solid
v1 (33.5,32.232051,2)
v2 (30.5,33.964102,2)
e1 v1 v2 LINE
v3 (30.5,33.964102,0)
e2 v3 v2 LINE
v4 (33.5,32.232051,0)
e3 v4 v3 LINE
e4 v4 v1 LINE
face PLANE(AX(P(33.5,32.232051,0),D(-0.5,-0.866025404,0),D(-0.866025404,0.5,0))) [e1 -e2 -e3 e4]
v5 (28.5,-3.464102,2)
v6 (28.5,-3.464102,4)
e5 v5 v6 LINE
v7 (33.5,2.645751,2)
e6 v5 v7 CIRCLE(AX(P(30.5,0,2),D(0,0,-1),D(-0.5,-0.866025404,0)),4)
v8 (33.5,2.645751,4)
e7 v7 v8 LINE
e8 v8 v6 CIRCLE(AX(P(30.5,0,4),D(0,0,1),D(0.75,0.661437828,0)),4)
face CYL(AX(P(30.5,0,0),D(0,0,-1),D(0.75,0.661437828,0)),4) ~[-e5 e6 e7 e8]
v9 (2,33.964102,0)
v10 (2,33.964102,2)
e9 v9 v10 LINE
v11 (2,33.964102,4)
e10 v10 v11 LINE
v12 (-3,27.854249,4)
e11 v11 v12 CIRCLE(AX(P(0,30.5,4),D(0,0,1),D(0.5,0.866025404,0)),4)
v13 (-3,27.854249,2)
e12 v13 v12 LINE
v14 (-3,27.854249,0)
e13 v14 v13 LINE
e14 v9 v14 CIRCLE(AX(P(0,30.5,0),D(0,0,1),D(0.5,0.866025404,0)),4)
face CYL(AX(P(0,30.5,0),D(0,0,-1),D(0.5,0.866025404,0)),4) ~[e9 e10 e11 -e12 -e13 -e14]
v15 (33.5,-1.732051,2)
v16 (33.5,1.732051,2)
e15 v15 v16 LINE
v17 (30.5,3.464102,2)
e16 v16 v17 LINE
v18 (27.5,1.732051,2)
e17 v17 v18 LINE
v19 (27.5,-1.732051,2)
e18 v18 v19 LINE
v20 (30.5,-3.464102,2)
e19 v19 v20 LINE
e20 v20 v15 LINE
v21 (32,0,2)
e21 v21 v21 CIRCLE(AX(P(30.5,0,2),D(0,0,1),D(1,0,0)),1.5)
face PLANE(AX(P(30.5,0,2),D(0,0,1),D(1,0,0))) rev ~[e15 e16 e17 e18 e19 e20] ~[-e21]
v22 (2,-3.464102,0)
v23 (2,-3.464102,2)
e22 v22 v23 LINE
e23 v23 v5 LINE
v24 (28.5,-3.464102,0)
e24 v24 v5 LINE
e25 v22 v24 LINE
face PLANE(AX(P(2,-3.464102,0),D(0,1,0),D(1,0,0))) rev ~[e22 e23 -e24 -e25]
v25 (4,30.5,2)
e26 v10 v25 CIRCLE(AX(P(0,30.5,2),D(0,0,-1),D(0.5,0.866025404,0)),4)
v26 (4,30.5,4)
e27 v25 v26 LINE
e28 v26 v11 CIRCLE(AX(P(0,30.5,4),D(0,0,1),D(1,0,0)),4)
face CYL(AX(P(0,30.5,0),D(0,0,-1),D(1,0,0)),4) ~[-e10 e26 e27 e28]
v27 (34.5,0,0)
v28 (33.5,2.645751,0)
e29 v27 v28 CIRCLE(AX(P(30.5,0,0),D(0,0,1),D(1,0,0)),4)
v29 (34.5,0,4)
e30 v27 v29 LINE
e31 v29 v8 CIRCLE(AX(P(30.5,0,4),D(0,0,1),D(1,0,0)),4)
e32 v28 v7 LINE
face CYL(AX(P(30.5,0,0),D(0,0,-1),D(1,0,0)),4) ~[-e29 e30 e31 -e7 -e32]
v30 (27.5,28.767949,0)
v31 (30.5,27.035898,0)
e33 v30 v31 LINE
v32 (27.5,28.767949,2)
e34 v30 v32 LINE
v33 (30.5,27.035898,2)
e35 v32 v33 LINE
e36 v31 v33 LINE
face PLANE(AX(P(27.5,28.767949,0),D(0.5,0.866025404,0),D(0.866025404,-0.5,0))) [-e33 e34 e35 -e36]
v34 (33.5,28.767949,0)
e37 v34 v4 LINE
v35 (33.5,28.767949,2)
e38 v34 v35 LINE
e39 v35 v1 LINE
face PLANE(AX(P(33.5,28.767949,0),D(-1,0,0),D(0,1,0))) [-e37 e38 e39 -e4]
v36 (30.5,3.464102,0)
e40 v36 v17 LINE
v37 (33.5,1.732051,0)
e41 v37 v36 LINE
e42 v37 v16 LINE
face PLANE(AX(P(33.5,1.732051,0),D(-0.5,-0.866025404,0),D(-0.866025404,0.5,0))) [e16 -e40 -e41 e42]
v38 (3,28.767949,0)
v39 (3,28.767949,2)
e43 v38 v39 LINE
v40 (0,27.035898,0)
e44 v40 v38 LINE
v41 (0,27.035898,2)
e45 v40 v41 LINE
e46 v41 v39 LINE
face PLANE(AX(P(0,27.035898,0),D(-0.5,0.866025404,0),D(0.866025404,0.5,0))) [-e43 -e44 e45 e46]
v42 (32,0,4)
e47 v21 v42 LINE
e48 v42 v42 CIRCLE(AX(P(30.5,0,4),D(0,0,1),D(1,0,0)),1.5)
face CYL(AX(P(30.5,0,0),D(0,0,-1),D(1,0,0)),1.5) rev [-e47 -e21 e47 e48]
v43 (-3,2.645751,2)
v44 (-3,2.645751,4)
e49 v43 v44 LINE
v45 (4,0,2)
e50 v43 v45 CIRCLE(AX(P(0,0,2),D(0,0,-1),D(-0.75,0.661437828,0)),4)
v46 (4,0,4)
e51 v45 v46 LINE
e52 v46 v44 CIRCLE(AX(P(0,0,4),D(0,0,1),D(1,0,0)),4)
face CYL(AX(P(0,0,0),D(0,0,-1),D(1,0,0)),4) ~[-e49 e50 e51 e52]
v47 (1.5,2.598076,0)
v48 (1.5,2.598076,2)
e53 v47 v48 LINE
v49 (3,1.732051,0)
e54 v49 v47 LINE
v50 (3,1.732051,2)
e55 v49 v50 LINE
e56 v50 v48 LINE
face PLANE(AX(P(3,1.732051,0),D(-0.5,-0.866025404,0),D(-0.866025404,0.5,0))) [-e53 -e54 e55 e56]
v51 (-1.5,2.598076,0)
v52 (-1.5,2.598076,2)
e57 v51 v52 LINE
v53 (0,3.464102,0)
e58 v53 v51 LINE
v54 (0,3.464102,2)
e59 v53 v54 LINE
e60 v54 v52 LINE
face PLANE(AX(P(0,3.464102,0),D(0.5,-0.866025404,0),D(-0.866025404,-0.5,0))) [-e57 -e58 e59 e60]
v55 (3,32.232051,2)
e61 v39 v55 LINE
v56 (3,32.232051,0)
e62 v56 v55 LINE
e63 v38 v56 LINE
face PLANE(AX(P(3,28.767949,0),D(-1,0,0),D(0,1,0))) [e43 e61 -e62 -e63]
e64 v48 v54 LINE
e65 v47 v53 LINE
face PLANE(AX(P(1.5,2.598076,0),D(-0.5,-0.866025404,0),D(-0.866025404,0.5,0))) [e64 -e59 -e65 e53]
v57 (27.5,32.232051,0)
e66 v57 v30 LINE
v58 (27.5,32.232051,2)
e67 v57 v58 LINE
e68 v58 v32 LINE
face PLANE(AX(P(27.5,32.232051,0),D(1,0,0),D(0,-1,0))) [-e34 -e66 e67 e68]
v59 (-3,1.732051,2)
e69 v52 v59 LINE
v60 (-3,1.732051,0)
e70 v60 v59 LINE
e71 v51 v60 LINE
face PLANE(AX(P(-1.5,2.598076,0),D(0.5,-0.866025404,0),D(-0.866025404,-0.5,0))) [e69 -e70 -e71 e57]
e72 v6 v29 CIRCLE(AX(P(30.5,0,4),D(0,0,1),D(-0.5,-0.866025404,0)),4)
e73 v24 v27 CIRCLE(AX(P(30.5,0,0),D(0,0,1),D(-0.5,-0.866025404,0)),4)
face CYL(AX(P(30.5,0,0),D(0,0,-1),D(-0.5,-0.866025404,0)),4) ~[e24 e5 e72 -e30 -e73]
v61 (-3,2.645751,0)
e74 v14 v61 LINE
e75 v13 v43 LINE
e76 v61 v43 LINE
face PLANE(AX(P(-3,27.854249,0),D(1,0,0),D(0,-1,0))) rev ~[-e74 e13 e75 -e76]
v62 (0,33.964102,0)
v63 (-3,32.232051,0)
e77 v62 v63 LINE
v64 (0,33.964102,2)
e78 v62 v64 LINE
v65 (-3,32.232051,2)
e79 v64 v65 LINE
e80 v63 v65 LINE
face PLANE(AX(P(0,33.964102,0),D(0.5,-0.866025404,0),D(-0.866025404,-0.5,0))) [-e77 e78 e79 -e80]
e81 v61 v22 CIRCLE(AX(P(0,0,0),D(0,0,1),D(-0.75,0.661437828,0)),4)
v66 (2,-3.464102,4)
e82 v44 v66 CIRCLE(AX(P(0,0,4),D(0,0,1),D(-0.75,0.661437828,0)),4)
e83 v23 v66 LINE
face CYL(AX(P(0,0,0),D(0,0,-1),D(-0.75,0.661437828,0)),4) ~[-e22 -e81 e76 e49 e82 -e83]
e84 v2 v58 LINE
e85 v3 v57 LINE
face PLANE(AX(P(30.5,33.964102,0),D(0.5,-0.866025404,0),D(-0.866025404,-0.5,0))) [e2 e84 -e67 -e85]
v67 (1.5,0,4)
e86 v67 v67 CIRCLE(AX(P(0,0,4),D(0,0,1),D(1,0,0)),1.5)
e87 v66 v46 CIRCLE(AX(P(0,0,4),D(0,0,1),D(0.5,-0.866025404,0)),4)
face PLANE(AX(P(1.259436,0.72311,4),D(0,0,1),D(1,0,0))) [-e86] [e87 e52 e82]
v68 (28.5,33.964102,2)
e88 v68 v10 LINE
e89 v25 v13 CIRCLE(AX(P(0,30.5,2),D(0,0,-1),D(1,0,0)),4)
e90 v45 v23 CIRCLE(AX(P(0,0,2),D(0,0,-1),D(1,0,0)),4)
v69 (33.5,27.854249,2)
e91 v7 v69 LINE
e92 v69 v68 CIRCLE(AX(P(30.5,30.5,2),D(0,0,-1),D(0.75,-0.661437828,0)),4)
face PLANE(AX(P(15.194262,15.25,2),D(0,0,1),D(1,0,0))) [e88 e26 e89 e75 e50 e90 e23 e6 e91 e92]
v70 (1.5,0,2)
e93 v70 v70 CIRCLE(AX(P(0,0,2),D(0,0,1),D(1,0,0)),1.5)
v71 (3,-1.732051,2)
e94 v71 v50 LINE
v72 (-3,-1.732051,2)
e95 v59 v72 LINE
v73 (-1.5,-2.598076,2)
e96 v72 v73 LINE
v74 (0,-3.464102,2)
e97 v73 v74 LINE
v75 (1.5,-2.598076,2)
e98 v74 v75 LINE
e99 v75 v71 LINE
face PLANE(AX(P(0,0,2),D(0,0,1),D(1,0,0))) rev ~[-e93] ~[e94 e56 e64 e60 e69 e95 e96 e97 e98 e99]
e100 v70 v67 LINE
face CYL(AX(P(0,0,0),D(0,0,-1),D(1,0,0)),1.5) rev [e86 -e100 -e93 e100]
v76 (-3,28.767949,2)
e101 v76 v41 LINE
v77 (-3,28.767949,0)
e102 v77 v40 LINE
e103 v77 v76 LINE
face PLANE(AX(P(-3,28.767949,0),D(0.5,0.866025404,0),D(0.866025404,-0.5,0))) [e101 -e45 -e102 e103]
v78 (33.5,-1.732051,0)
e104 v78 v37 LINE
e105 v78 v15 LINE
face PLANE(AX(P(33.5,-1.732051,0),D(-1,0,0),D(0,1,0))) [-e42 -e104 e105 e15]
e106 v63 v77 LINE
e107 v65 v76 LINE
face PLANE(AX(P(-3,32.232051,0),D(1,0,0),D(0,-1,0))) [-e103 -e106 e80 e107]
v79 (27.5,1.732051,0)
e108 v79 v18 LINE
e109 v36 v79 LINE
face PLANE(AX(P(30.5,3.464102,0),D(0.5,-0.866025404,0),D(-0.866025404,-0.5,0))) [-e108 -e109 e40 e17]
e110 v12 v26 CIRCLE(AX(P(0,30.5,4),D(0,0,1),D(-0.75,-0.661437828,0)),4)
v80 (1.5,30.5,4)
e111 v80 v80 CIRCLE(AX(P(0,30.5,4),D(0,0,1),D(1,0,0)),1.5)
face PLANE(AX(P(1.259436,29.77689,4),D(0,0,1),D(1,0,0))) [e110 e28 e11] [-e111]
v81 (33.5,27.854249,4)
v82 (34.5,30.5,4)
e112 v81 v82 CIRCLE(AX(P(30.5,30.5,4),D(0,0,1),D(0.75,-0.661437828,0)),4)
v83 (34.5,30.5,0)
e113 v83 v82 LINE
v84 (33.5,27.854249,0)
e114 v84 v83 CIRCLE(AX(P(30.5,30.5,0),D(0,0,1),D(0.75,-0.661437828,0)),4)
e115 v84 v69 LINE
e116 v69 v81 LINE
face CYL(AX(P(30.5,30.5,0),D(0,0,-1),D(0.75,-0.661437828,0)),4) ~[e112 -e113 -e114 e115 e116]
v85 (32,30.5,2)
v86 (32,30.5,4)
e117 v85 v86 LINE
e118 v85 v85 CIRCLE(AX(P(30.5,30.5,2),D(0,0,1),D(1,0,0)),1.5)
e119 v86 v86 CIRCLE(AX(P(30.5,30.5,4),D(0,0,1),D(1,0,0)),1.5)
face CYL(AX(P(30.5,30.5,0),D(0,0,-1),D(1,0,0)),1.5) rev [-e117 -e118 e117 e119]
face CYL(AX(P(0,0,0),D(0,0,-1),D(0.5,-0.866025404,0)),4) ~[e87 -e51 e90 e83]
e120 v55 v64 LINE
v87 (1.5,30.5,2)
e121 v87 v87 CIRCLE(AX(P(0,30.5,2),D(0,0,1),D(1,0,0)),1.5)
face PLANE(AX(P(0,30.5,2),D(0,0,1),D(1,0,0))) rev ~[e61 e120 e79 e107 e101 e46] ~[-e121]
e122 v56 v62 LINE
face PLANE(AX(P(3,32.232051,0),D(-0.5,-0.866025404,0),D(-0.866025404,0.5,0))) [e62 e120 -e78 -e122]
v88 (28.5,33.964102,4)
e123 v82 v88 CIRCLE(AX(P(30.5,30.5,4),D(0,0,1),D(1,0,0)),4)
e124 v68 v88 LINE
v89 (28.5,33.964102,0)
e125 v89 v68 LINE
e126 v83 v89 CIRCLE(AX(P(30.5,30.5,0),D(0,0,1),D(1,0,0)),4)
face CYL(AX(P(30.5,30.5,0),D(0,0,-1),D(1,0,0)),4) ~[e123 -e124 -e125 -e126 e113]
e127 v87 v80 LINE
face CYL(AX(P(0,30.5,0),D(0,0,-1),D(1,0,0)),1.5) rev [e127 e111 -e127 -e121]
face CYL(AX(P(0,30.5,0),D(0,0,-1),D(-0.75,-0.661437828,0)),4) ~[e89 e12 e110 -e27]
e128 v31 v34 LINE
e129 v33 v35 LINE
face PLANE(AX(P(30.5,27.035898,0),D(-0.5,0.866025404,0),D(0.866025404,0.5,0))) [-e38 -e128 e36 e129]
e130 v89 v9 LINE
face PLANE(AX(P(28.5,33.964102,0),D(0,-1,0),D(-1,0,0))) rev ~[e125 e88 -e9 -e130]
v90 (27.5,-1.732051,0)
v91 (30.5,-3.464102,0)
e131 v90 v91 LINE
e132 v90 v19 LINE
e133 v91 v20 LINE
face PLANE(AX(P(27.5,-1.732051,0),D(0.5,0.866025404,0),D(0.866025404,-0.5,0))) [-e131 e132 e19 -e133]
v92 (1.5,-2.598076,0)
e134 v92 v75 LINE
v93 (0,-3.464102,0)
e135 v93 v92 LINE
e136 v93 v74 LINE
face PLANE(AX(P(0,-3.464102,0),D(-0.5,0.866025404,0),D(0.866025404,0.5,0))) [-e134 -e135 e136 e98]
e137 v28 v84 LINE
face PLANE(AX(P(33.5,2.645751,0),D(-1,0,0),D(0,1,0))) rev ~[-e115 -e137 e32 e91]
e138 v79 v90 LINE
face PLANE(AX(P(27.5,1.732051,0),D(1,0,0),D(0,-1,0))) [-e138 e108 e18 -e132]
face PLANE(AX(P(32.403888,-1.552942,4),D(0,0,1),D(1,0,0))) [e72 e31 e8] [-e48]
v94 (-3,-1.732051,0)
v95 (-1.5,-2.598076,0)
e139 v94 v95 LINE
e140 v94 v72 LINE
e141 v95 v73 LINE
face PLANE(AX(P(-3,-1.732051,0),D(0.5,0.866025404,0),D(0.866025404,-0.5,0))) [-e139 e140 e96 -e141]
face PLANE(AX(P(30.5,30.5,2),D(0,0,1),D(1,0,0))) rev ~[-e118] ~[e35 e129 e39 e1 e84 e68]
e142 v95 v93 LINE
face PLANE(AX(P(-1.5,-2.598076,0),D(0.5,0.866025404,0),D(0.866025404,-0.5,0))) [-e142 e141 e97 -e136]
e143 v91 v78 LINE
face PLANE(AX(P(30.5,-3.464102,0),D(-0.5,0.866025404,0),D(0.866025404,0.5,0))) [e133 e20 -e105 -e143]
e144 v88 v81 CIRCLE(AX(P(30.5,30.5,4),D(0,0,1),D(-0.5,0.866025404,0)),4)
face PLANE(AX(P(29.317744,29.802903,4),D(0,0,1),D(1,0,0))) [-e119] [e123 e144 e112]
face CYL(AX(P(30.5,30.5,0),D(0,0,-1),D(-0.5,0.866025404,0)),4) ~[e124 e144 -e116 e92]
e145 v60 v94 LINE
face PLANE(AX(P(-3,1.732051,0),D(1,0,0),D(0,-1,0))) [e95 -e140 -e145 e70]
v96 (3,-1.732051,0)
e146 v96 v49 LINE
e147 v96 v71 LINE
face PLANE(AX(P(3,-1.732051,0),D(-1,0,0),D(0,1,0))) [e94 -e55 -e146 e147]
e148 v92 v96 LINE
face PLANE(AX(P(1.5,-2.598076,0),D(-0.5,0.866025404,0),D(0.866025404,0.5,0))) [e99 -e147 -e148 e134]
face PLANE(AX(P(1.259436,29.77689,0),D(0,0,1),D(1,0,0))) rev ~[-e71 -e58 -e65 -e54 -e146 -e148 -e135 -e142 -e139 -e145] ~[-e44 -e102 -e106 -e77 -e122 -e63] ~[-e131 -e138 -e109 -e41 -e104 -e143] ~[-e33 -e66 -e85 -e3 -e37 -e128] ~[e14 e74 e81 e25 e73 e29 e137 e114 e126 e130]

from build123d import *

# Parameters (mm, degrees)
F1_DEPTH = 2
F2_DEPTH = 4
F0_R     = 1.5
F3_DEPTH = 4
F4_DEPTH = 2


with BuildPart() as f1:
    # F0 (on Top) → F1 (new body)
    with BuildSketch(Plane.XY):
        with BuildLine():
            ThreePointArc((-3, 2.6457513111), (1.4142135624, 3.7416573868), (4, 0))
            ThreePointArc((4, 0), (3.4641016151, -2), (2, -3.4641016151))
            Line((2, -3.4641016151), (28.5, -3.4641016151))
            ThreePointArc((28.5, -3.4641016151), (27.4044264352, 2.533263568), (33.5, 2.6457513111))
            Line((33.5, 2.6457513111), (33.5, 27.8542486889))
            ThreePointArc((33.5, 27.8542486889), (27.4044264352, 27.966736432), (28.5, 33.9641016151))
            Line((28.5, 33.9641016151), (2, 33.9641016151))
            ThreePointArc((2, 33.9641016151), (3.4641016151, 32.5), (4, 30.5))
            ThreePointArc((4, 30.5), (1.4142135624, 26.7583426132), (-3, 27.8542486889))
            Line((-3, 27.8542486889), (-3, 2.6457513111))
        make_face()
    extrude(amount=F1_DEPTH)

    # F0 (on Top) → F2 (join)
    with BuildSketch(Plane.XY):
        with BuildLine():
            Line((-3, 28.7679491924), (-3, 27.8542486889))
            ThreePointArc((-3, 27.8542486889), (1.4142135624, 26.7583426132), (4, 30.5))
            ThreePointArc((4, 30.5), (3.4641016151, 32.5), (2, 33.9641016151))
            Line((2, 33.9641016151), (0, 33.9641016151))
            Line((0, 33.9641016151), (3, 32.2320508076))
            Line((3, 32.2320508076), (3, 28.7679491924))
            Line((3, 28.7679491924), (0, 27.0358983849))
            Line((0, 27.0358983849), (-3, 28.7679491924))
        make_face()
        with BuildLine():
            ThreePointArc((2, 33.9641016151), (-3.0955735648, 33.033263568), (-3, 27.8542486889))
            Line((-3, 27.8542486889), (-3, 28.7679491924))
            Line((-3, 28.7679491924), (-3, 32.2320508076))
            Line((-3, 32.2320508076), (0, 33.9641016151))
            Line((0, 33.9641016151), (2, 33.9641016151))
        make_face()
        with BuildLine():
            ThreePointArc((2, -3.4641016151), (3.4641016151, -2), (4, 0))
            ThreePointArc((4, 0), (1.4142135624, 3.7416573868), (-3, 2.6457513111))
            Line((-3, 2.6457513111), (-3, 1.7320508076))
            Line((-3, 1.7320508076), (-1.4999999564, 2.5980762365))
            Line((-1.4999999564, 2.5980762365), (0, 3.4641016151))
            Line((0, 3.4641016151), (1.4999999564, 2.5980762365))
            Line((1.4999999564, 2.5980762365), (3, 1.7320508076))
            Line((3, 1.7320508076), (3, 0))
            Line((3, 0), (3, -1.7320508076))
            Line((3, -1.7320508076), (1.4999999564, -2.5980762365))
            Line((1.4999999564, -2.5980762365), (0, -3.4641016151))
            Line((0, -3.4641016151), (2, -3.4641016151))
        make_face()
        with BuildLine():
            Line((-3, 1.7320508076), (-3, 2.6457513111))
            ThreePointArc((-3, 2.6457513111), (-3.0955735648, -2.533263568), (2, -3.4641016151))
            Line((2, -3.4641016151), (0, -3.4641016151))
            Line((0, -3.4641016151), (-1.4999999973, -2.5980762129))
            Line((-1.4999999973, -2.5980762129), (-3, -1.7320508076))
            Line((-3, -1.7320508076), (-3, 0))
            Line((-3, 0), (-3, 1.7320508076))
        make_face()
        with BuildLine():
            Line((30.5, 33.9641016151), (28.5, 33.9641016151))
            ThreePointArc((28.5, 33.9641016151), (27.4044264352, 27.966736432), (33.5, 27.8542486889))
            Line((33.5, 27.8542486889), (33.5, 28.7679491924))
            Line((33.5, 28.7679491924), (30.5, 27.0358983849))
            Line((30.5, 27.0358983849), (27.5, 28.7679491924))
            Line((27.5, 28.7679491924), (27.5, 32.2320508076))
            Line((27.5, 32.2320508076), (30.5, 33.9641016151))
        make_face()
        with BuildLine():
            ThreePointArc((34.5, 30.5), (32.5, 33.9641016151), (28.5, 33.9641016151))
            Line((28.5, 33.9641016151), (30.5, 33.9641016151))
            Line((30.5, 33.9641016151), (33.5, 32.2320508076))
            Line((33.5, 32.2320508076), (33.5, 28.7679491924))
            Line((33.5, 28.7679491924), (33.5, 27.8542486889))
            ThreePointArc((33.5, 27.8542486889), (34.2416573868, 29.0857864376), (34.5, 30.5))
        make_face()
        with BuildLine():
            Line((30.5, -3.4641016151), (28.5, -3.4641016151))
            ThreePointArc((28.5, -3.4641016151), (32.5, -3.4641016151), (34.5, 0))
            ThreePointArc((34.5, 0), (34.2416573868, 1.4142135624), (33.5, 2.6457513111))
            Line((33.5, 2.6457513111), (33.5, 1.7320508076))
            Line((33.5, 1.7320508076), (33.5, -1.7320508076))
            Line((33.5, -1.7320508076), (30.5, -3.4641016151))
        make_face()
        with BuildLine():
            ThreePointArc((33.5, 2.6457513111), (27.4044264352, 2.533263568), (28.5, -3.4641016151))
            Line((28.5, -3.4641016151), (30.5, -3.4641016151))
            Line((30.5, -3.4641016151), (27.5, -1.7320508076))
            Line((27.5, -1.7320508076), (27.5, 1.7320508076))
            Line((27.5, 1.7320508076), (30.5, 3.4641016151))
            Line((30.5, 3.4641016151), (33.5, 1.7320508076))
            Line((33.5, 1.7320508076), (33.5, 2.6457513111))
        make_face()
    extrude(amount=F2_DEPTH)

    # F0 (on Top) → F3 (join)
    with BuildSketch(Plane.XY):
        with BuildLine():
            ThreePointArc((-1.4999999564, 2.5980762365), (-2.5980761988, 1.5000000218), (-3, 0))
            ThreePointArc((-3, 0), (-2.5980762106, -1.5000000014), (-1.4999999973, -2.5980762129))
            ThreePointArc((-1.4999999973, -2.5980762129), (-2.36e-08, -3), (1.4999999564, -2.5980762365))
            ThreePointArc((1.4999999564, -2.5980762365), (2.5980761988, -1.5000000218), (3, 0))
            ThreePointArc((3, 0), (2.5980761988, 1.5000000218), (1.4999999564, 2.5980762365))
            ThreePointArc((1.4999999564, 2.5980762365), (0, 3), (-1.4999999564, 2.5980762365))
        make_face()
        Circle(F0_R, mode=Mode.SUBTRACT)
        with BuildLine():
            ThreePointArc((2, -3.4641016151), (3.4641016151, -2), (4, 0))
            ThreePointArc((4, 0), (1.4142135624, 3.7416573868), (-3, 2.6457513111))
            Line((-3, 2.6457513111), (-3, 1.7320508076))
            Line((-3, 1.7320508076), (-1.4999999564, 2.5980762365))
            Line((-1.4999999564, 2.5980762365), (0, 3.4641016151))
            Line((0, 3.4641016151), (1.4999999564, 2.5980762365))
            Line((1.4999999564, 2.5980762365), (3, 1.7320508076))
            Line((3, 1.7320508076), (3, 0))
            Line((3, 0), (3, -1.7320508076))
            Line((3, -1.7320508076), (1.4999999564, -2.5980762365))
            Line((1.4999999564, -2.5980762365), (0, -3.4641016151))
            Line((0, -3.4641016151), (2, -3.4641016151))
        make_face()
        with BuildLine():
            Line((-1.4999999564, 2.5980762365), (-3, 1.7320508076))
            Line((-3, 1.7320508076), (-3, 0))
            ThreePointArc((-3, 0), (-2.5980761988, 1.5000000218), (-1.4999999564, 2.5980762365))
        make_face()
        with BuildLine():
            Line((0, 3.4641016151), (-1.4999999564, 2.5980762365))
            ThreePointArc((-1.4999999564, 2.5980762365), (0, 3), (1.4999999564, 2.5980762365))
            Line((1.4999999564, 2.5980762365), (0, 3.4641016151))
        make_face()
        with BuildLine():
            Line((3, 1.7320508076), (1.4999999564, 2.5980762365))
            ThreePointArc((1.4999999564, 2.5980762365), (2.5980761988, 1.5000000218), (3, 0))
            Line((3, 0), (3, 1.7320508076))
        make_face()
        with BuildLine():
            ThreePointArc((3, 0), (2.5980761988, -1.5000000218), (1.4999999564, -2.5980762365))
            Line((1.4999999564, -2.5980762365), (3, -1.7320508076))
            Line((3, -1.7320508076), (3, 0))
        make_face()
        with BuildLine():
            ThreePointArc((-1.4999999973, -2.5980762129), (-2.5980762106, -1.5000000014), (-3, 0))
            Line((-3, 0), (-3, -1.7320508076))
            Line((-3, -1.7320508076), (-1.4999999973, -2.5980762129))
        make_face()
        with BuildLine():
            Line((-3, 1.7320508076), (-3, 2.6457513111))
            ThreePointArc((-3, 2.6457513111), (-3.0955735648, -2.533263568), (2, -3.4641016151))
            Line((2, -3.4641016151), (0, -3.4641016151))
            Line((0, -3.4641016151), (-1.4999999973, -2.5980762129))
            Line((-1.4999999973, -2.5980762129), (-3, -1.7320508076))
            Line((-3, -1.7320508076), (-3, 0))
            Line((-3, 0), (-3, 1.7320508076))
        make_face()
        with BuildLine():
            Line((-1.4999999973, -2.5980762129), (0, -3.4641016151))
            Line((0, -3.4641016151), (1.4999999564, -2.5980762365))
            ThreePointArc((1.4999999564, -2.5980762365), (-2.36e-08, -3), (-1.4999999973, -2.5980762129))
        make_face()
        Polygon((27.5, -1.7320508076), (30.5, -3.4641016151), (33.5, -1.7320508076), (33.5, 1.7320508076), (30.5, 3.4641016151), (27.5, 1.7320508076), align=None)
        with Locations((30.5, 0)):
            Circle(F0_R, mode=Mode.SUBTRACT)
        with BuildLine():
            ThreePointArc((33.5, 2.6457513111), (27.4044264352, 2.533263568), (28.5, -3.4641016151))
            Line((28.5, -3.4641016151), (30.5, -3.4641016151))
            Line((30.5, -3.4641016151), (27.5, -1.7320508076))
            Line((27.5, -1.7320508076), (27.5, 1.7320508076))
            Line((27.5, 1.7320508076), (30.5, 3.4641016151))
            Line((30.5, 3.4641016151), (33.5, 1.7320508076))
            Line((33.5, 1.7320508076), (33.5, 2.6457513111))
        make_face()
        with BuildLine():
            Line((30.5, -3.4641016151), (28.5, -3.4641016151))
            ThreePointArc((28.5, -3.4641016151), (32.5, -3.4641016151), (34.5, 0))
            ThreePointArc((34.5, 0), (34.2416573868, 1.4142135624), (33.5, 2.6457513111))
            Line((33.5, 2.6457513111), (33.5, 1.7320508076))
            Line((33.5, 1.7320508076), (33.5, -1.7320508076))
            Line((33.5, -1.7320508076), (30.5, -3.4641016151))
        make_face()
        with BuildLine():
            ThreePointArc((34.5, 30.5), (32.5, 33.9641016151), (28.5, 33.9641016151))
            Line((28.5, 33.9641016151), (30.5, 33.9641016151))
            Line((30.5, 33.9641016151), (33.5, 32.2320508076))
            Line((33.5, 32.2320508076), (33.5, 28.7679491924))
            Line((33.5, 28.7679491924), (33.5, 27.8542486889))
            ThreePointArc((33.5, 27.8542486889), (34.2416573868, 29.0857864376), (34.5, 30.5))
        make_face()
        Polygon((33.5, 32.2320508076), (30.5, 33.9641016151), (27.5, 32.2320508076), (27.5, 28.7679491924), (30.5, 27.0358983849), (33.5, 28.7679491924), align=None)
        with Locations((30.5, 30.5)):
            Circle(F0_R, mode=Mode.SUBTRACT)
        with BuildLine():
            Line((30.5, 33.9641016151), (28.5, 33.9641016151))
            ThreePointArc((28.5, 33.9641016151), (27.4044264352, 27.966736432), (33.5, 27.8542486889))
            Line((33.5, 27.8542486889), (33.5, 28.7679491924))
            Line((33.5, 28.7679491924), (30.5, 27.0358983849))
            Line((30.5, 27.0358983849), (27.5, 28.7679491924))
            Line((27.5, 28.7679491924), (27.5, 32.2320508076))
            Line((27.5, 32.2320508076), (30.5, 33.9641016151))
        make_face()
        with BuildLine():
            ThreePointArc((2, 33.9641016151), (-3.0955735648, 33.033263568), (-3, 27.8542486889))
            Line((-3, 27.8542486889), (-3, 28.7679491924))
            Line((-3, 28.7679491924), (-3, 32.2320508076))
            Line((-3, 32.2320508076), (0, 33.9641016151))
            Line((0, 33.9641016151), (2, 33.9641016151))
        make_face()
        Polygon((-3, 32.2320508076), (-3, 28.7679491924), (0, 27.0358983849), (3, 28.7679491924), (3, 32.2320508076), (0, 33.9641016151), align=None)
        with Locations((0, 30.5)):
            Circle(F0_R, mode=Mode.SUBTRACT)
        with BuildLine():
            Line((-3, 28.7679491924), (-3, 27.8542486889))
            ThreePointArc((-3, 27.8542486889), (1.4142135624, 26.7583426132), (4, 30.5))
            ThreePointArc((4, 30.5), (3.4641016151, 32.5), (2, 33.9641016151))
            Line((2, 33.9641016151), (0, 33.9641016151))
            Line((0, 33.9641016151), (3, 32.2320508076))
            Line((3, 32.2320508076), (3, 28.7679491924))
            Line((3, 28.7679491924), (0, 27.0358983849))
            Line((0, 27.0358983849), (-3, 28.7679491924))
        make_face()
    extrude(amount=F3_DEPTH)

    # F0 (on Top) → F4 (cut)
    with BuildSketch(Plane.XY):
        Polygon((-3, 32.2320508076), (-3, 28.7679491924), (0, 27.0358983849), (3, 28.7679491924), (3, 32.2320508076), (0, 33.9641016151), align=None)
        with Locations((0, 30.5)):
            Circle(F0_R, mode=Mode.SUBTRACT)
        Polygon((33.5, 32.2320508076), (30.5, 33.9641016151), (27.5, 32.2320508076), (27.5, 28.7679491924), (30.5, 27.0358983849), (33.5, 28.7679491924), align=None)
        with Locations((30.5, 30.5)):
            Circle(F0_R, mode=Mode.SUBTRACT)
        Polygon((27.5, -1.7320508076), (30.5, -3.4641016151), (33.5, -1.7320508076), (33.5, 1.7320508076), (30.5, 3.4641016151), (27.5, 1.7320508076), align=None)
        with Locations((30.5, 0)):
            Circle(F0_R, mode=Mode.SUBTRACT)
        with BuildLine():
            ThreePointArc((-1.4999999564, 2.5980762365), (-2.5980761988, 1.5000000218), (-3, 0))
            ThreePointArc((-3, 0), (-2.5980762106, -1.5000000014), (-1.4999999973, -2.5980762129))
            ThreePointArc((-1.4999999973, -2.5980762129), (-2.36e-08, -3), (1.4999999564, -2.5980762365))
            ThreePointArc((1.4999999564, -2.5980762365), (2.5980761988, -1.5000000218), (3, 0))
            ThreePointArc((3, 0), (2.5980761988, 1.5000000218), (1.4999999564, 2.5980762365))
            ThreePointArc((1.4999999564, 2.5980762365), (0, 3), (-1.4999999564, 2.5980762365))
        make_face()
        Circle(F0_R, mode=Mode.SUBTRACT)
        with BuildLine():
            Line((-1.4999999564, 2.5980762365), (-3, 1.7320508076))
            Line((-3, 1.7320508076), (-3, 0))
            ThreePointArc((-3, 0), (-2.5980761988, 1.5000000218), (-1.4999999564, 2.5980762365))
        make_face()
        with BuildLine():
            ThreePointArc((-1.4999999973, -2.5980762129), (-2.5980762106, -1.5000000014), (-3, 0))
            Line((-3, 0), (-3, -1.7320508076))
            Line((-3, -1.7320508076), (-1.4999999973, -2.5980762129))
        make_face()
        with BuildLine():
            ThreePointArc((3, 0), (2.5980761988, -1.5000000218), (1.4999999564, -2.5980762365))
            Line((1.4999999564, -2.5980762365), (3, -1.7320508076))
            Line((3, -1.7320508076), (3, 0))
        make_face()
        with BuildLine():
            Line((3, 1.7320508076), (1.4999999564, 2.5980762365))
            ThreePointArc((1.4999999564, 2.5980762365), (2.5980761988, 1.5000000218), (3, 0))
            Line((3, 0), (3, 1.7320508076))
        make_face()
        with BuildLine():
            Line((0, 3.4641016151), (-1.4999999564, 2.5980762365))
            ThreePointArc((-1.4999999564, 2.5980762365), (0, 3), (1.4999999564, 2.5980762365))
            Line((1.4999999564, 2.5980762365), (0, 3.4641016151))
        make_face()
        with BuildLine():
            Line((-1.4999999973, -2.5980762129), (0, -3.4641016151))
            Line((0, -3.4641016151), (1.4999999564, -2.5980762365))
            ThreePointArc((1.4999999564, -2.5980762365), (-2.36e-08, -3), (-1.4999999973, -2.5980762129))
        make_face()
    extrude(amount=F4_DEPTH, mode=Mode.SUBTRACT)


solid = f1.part
